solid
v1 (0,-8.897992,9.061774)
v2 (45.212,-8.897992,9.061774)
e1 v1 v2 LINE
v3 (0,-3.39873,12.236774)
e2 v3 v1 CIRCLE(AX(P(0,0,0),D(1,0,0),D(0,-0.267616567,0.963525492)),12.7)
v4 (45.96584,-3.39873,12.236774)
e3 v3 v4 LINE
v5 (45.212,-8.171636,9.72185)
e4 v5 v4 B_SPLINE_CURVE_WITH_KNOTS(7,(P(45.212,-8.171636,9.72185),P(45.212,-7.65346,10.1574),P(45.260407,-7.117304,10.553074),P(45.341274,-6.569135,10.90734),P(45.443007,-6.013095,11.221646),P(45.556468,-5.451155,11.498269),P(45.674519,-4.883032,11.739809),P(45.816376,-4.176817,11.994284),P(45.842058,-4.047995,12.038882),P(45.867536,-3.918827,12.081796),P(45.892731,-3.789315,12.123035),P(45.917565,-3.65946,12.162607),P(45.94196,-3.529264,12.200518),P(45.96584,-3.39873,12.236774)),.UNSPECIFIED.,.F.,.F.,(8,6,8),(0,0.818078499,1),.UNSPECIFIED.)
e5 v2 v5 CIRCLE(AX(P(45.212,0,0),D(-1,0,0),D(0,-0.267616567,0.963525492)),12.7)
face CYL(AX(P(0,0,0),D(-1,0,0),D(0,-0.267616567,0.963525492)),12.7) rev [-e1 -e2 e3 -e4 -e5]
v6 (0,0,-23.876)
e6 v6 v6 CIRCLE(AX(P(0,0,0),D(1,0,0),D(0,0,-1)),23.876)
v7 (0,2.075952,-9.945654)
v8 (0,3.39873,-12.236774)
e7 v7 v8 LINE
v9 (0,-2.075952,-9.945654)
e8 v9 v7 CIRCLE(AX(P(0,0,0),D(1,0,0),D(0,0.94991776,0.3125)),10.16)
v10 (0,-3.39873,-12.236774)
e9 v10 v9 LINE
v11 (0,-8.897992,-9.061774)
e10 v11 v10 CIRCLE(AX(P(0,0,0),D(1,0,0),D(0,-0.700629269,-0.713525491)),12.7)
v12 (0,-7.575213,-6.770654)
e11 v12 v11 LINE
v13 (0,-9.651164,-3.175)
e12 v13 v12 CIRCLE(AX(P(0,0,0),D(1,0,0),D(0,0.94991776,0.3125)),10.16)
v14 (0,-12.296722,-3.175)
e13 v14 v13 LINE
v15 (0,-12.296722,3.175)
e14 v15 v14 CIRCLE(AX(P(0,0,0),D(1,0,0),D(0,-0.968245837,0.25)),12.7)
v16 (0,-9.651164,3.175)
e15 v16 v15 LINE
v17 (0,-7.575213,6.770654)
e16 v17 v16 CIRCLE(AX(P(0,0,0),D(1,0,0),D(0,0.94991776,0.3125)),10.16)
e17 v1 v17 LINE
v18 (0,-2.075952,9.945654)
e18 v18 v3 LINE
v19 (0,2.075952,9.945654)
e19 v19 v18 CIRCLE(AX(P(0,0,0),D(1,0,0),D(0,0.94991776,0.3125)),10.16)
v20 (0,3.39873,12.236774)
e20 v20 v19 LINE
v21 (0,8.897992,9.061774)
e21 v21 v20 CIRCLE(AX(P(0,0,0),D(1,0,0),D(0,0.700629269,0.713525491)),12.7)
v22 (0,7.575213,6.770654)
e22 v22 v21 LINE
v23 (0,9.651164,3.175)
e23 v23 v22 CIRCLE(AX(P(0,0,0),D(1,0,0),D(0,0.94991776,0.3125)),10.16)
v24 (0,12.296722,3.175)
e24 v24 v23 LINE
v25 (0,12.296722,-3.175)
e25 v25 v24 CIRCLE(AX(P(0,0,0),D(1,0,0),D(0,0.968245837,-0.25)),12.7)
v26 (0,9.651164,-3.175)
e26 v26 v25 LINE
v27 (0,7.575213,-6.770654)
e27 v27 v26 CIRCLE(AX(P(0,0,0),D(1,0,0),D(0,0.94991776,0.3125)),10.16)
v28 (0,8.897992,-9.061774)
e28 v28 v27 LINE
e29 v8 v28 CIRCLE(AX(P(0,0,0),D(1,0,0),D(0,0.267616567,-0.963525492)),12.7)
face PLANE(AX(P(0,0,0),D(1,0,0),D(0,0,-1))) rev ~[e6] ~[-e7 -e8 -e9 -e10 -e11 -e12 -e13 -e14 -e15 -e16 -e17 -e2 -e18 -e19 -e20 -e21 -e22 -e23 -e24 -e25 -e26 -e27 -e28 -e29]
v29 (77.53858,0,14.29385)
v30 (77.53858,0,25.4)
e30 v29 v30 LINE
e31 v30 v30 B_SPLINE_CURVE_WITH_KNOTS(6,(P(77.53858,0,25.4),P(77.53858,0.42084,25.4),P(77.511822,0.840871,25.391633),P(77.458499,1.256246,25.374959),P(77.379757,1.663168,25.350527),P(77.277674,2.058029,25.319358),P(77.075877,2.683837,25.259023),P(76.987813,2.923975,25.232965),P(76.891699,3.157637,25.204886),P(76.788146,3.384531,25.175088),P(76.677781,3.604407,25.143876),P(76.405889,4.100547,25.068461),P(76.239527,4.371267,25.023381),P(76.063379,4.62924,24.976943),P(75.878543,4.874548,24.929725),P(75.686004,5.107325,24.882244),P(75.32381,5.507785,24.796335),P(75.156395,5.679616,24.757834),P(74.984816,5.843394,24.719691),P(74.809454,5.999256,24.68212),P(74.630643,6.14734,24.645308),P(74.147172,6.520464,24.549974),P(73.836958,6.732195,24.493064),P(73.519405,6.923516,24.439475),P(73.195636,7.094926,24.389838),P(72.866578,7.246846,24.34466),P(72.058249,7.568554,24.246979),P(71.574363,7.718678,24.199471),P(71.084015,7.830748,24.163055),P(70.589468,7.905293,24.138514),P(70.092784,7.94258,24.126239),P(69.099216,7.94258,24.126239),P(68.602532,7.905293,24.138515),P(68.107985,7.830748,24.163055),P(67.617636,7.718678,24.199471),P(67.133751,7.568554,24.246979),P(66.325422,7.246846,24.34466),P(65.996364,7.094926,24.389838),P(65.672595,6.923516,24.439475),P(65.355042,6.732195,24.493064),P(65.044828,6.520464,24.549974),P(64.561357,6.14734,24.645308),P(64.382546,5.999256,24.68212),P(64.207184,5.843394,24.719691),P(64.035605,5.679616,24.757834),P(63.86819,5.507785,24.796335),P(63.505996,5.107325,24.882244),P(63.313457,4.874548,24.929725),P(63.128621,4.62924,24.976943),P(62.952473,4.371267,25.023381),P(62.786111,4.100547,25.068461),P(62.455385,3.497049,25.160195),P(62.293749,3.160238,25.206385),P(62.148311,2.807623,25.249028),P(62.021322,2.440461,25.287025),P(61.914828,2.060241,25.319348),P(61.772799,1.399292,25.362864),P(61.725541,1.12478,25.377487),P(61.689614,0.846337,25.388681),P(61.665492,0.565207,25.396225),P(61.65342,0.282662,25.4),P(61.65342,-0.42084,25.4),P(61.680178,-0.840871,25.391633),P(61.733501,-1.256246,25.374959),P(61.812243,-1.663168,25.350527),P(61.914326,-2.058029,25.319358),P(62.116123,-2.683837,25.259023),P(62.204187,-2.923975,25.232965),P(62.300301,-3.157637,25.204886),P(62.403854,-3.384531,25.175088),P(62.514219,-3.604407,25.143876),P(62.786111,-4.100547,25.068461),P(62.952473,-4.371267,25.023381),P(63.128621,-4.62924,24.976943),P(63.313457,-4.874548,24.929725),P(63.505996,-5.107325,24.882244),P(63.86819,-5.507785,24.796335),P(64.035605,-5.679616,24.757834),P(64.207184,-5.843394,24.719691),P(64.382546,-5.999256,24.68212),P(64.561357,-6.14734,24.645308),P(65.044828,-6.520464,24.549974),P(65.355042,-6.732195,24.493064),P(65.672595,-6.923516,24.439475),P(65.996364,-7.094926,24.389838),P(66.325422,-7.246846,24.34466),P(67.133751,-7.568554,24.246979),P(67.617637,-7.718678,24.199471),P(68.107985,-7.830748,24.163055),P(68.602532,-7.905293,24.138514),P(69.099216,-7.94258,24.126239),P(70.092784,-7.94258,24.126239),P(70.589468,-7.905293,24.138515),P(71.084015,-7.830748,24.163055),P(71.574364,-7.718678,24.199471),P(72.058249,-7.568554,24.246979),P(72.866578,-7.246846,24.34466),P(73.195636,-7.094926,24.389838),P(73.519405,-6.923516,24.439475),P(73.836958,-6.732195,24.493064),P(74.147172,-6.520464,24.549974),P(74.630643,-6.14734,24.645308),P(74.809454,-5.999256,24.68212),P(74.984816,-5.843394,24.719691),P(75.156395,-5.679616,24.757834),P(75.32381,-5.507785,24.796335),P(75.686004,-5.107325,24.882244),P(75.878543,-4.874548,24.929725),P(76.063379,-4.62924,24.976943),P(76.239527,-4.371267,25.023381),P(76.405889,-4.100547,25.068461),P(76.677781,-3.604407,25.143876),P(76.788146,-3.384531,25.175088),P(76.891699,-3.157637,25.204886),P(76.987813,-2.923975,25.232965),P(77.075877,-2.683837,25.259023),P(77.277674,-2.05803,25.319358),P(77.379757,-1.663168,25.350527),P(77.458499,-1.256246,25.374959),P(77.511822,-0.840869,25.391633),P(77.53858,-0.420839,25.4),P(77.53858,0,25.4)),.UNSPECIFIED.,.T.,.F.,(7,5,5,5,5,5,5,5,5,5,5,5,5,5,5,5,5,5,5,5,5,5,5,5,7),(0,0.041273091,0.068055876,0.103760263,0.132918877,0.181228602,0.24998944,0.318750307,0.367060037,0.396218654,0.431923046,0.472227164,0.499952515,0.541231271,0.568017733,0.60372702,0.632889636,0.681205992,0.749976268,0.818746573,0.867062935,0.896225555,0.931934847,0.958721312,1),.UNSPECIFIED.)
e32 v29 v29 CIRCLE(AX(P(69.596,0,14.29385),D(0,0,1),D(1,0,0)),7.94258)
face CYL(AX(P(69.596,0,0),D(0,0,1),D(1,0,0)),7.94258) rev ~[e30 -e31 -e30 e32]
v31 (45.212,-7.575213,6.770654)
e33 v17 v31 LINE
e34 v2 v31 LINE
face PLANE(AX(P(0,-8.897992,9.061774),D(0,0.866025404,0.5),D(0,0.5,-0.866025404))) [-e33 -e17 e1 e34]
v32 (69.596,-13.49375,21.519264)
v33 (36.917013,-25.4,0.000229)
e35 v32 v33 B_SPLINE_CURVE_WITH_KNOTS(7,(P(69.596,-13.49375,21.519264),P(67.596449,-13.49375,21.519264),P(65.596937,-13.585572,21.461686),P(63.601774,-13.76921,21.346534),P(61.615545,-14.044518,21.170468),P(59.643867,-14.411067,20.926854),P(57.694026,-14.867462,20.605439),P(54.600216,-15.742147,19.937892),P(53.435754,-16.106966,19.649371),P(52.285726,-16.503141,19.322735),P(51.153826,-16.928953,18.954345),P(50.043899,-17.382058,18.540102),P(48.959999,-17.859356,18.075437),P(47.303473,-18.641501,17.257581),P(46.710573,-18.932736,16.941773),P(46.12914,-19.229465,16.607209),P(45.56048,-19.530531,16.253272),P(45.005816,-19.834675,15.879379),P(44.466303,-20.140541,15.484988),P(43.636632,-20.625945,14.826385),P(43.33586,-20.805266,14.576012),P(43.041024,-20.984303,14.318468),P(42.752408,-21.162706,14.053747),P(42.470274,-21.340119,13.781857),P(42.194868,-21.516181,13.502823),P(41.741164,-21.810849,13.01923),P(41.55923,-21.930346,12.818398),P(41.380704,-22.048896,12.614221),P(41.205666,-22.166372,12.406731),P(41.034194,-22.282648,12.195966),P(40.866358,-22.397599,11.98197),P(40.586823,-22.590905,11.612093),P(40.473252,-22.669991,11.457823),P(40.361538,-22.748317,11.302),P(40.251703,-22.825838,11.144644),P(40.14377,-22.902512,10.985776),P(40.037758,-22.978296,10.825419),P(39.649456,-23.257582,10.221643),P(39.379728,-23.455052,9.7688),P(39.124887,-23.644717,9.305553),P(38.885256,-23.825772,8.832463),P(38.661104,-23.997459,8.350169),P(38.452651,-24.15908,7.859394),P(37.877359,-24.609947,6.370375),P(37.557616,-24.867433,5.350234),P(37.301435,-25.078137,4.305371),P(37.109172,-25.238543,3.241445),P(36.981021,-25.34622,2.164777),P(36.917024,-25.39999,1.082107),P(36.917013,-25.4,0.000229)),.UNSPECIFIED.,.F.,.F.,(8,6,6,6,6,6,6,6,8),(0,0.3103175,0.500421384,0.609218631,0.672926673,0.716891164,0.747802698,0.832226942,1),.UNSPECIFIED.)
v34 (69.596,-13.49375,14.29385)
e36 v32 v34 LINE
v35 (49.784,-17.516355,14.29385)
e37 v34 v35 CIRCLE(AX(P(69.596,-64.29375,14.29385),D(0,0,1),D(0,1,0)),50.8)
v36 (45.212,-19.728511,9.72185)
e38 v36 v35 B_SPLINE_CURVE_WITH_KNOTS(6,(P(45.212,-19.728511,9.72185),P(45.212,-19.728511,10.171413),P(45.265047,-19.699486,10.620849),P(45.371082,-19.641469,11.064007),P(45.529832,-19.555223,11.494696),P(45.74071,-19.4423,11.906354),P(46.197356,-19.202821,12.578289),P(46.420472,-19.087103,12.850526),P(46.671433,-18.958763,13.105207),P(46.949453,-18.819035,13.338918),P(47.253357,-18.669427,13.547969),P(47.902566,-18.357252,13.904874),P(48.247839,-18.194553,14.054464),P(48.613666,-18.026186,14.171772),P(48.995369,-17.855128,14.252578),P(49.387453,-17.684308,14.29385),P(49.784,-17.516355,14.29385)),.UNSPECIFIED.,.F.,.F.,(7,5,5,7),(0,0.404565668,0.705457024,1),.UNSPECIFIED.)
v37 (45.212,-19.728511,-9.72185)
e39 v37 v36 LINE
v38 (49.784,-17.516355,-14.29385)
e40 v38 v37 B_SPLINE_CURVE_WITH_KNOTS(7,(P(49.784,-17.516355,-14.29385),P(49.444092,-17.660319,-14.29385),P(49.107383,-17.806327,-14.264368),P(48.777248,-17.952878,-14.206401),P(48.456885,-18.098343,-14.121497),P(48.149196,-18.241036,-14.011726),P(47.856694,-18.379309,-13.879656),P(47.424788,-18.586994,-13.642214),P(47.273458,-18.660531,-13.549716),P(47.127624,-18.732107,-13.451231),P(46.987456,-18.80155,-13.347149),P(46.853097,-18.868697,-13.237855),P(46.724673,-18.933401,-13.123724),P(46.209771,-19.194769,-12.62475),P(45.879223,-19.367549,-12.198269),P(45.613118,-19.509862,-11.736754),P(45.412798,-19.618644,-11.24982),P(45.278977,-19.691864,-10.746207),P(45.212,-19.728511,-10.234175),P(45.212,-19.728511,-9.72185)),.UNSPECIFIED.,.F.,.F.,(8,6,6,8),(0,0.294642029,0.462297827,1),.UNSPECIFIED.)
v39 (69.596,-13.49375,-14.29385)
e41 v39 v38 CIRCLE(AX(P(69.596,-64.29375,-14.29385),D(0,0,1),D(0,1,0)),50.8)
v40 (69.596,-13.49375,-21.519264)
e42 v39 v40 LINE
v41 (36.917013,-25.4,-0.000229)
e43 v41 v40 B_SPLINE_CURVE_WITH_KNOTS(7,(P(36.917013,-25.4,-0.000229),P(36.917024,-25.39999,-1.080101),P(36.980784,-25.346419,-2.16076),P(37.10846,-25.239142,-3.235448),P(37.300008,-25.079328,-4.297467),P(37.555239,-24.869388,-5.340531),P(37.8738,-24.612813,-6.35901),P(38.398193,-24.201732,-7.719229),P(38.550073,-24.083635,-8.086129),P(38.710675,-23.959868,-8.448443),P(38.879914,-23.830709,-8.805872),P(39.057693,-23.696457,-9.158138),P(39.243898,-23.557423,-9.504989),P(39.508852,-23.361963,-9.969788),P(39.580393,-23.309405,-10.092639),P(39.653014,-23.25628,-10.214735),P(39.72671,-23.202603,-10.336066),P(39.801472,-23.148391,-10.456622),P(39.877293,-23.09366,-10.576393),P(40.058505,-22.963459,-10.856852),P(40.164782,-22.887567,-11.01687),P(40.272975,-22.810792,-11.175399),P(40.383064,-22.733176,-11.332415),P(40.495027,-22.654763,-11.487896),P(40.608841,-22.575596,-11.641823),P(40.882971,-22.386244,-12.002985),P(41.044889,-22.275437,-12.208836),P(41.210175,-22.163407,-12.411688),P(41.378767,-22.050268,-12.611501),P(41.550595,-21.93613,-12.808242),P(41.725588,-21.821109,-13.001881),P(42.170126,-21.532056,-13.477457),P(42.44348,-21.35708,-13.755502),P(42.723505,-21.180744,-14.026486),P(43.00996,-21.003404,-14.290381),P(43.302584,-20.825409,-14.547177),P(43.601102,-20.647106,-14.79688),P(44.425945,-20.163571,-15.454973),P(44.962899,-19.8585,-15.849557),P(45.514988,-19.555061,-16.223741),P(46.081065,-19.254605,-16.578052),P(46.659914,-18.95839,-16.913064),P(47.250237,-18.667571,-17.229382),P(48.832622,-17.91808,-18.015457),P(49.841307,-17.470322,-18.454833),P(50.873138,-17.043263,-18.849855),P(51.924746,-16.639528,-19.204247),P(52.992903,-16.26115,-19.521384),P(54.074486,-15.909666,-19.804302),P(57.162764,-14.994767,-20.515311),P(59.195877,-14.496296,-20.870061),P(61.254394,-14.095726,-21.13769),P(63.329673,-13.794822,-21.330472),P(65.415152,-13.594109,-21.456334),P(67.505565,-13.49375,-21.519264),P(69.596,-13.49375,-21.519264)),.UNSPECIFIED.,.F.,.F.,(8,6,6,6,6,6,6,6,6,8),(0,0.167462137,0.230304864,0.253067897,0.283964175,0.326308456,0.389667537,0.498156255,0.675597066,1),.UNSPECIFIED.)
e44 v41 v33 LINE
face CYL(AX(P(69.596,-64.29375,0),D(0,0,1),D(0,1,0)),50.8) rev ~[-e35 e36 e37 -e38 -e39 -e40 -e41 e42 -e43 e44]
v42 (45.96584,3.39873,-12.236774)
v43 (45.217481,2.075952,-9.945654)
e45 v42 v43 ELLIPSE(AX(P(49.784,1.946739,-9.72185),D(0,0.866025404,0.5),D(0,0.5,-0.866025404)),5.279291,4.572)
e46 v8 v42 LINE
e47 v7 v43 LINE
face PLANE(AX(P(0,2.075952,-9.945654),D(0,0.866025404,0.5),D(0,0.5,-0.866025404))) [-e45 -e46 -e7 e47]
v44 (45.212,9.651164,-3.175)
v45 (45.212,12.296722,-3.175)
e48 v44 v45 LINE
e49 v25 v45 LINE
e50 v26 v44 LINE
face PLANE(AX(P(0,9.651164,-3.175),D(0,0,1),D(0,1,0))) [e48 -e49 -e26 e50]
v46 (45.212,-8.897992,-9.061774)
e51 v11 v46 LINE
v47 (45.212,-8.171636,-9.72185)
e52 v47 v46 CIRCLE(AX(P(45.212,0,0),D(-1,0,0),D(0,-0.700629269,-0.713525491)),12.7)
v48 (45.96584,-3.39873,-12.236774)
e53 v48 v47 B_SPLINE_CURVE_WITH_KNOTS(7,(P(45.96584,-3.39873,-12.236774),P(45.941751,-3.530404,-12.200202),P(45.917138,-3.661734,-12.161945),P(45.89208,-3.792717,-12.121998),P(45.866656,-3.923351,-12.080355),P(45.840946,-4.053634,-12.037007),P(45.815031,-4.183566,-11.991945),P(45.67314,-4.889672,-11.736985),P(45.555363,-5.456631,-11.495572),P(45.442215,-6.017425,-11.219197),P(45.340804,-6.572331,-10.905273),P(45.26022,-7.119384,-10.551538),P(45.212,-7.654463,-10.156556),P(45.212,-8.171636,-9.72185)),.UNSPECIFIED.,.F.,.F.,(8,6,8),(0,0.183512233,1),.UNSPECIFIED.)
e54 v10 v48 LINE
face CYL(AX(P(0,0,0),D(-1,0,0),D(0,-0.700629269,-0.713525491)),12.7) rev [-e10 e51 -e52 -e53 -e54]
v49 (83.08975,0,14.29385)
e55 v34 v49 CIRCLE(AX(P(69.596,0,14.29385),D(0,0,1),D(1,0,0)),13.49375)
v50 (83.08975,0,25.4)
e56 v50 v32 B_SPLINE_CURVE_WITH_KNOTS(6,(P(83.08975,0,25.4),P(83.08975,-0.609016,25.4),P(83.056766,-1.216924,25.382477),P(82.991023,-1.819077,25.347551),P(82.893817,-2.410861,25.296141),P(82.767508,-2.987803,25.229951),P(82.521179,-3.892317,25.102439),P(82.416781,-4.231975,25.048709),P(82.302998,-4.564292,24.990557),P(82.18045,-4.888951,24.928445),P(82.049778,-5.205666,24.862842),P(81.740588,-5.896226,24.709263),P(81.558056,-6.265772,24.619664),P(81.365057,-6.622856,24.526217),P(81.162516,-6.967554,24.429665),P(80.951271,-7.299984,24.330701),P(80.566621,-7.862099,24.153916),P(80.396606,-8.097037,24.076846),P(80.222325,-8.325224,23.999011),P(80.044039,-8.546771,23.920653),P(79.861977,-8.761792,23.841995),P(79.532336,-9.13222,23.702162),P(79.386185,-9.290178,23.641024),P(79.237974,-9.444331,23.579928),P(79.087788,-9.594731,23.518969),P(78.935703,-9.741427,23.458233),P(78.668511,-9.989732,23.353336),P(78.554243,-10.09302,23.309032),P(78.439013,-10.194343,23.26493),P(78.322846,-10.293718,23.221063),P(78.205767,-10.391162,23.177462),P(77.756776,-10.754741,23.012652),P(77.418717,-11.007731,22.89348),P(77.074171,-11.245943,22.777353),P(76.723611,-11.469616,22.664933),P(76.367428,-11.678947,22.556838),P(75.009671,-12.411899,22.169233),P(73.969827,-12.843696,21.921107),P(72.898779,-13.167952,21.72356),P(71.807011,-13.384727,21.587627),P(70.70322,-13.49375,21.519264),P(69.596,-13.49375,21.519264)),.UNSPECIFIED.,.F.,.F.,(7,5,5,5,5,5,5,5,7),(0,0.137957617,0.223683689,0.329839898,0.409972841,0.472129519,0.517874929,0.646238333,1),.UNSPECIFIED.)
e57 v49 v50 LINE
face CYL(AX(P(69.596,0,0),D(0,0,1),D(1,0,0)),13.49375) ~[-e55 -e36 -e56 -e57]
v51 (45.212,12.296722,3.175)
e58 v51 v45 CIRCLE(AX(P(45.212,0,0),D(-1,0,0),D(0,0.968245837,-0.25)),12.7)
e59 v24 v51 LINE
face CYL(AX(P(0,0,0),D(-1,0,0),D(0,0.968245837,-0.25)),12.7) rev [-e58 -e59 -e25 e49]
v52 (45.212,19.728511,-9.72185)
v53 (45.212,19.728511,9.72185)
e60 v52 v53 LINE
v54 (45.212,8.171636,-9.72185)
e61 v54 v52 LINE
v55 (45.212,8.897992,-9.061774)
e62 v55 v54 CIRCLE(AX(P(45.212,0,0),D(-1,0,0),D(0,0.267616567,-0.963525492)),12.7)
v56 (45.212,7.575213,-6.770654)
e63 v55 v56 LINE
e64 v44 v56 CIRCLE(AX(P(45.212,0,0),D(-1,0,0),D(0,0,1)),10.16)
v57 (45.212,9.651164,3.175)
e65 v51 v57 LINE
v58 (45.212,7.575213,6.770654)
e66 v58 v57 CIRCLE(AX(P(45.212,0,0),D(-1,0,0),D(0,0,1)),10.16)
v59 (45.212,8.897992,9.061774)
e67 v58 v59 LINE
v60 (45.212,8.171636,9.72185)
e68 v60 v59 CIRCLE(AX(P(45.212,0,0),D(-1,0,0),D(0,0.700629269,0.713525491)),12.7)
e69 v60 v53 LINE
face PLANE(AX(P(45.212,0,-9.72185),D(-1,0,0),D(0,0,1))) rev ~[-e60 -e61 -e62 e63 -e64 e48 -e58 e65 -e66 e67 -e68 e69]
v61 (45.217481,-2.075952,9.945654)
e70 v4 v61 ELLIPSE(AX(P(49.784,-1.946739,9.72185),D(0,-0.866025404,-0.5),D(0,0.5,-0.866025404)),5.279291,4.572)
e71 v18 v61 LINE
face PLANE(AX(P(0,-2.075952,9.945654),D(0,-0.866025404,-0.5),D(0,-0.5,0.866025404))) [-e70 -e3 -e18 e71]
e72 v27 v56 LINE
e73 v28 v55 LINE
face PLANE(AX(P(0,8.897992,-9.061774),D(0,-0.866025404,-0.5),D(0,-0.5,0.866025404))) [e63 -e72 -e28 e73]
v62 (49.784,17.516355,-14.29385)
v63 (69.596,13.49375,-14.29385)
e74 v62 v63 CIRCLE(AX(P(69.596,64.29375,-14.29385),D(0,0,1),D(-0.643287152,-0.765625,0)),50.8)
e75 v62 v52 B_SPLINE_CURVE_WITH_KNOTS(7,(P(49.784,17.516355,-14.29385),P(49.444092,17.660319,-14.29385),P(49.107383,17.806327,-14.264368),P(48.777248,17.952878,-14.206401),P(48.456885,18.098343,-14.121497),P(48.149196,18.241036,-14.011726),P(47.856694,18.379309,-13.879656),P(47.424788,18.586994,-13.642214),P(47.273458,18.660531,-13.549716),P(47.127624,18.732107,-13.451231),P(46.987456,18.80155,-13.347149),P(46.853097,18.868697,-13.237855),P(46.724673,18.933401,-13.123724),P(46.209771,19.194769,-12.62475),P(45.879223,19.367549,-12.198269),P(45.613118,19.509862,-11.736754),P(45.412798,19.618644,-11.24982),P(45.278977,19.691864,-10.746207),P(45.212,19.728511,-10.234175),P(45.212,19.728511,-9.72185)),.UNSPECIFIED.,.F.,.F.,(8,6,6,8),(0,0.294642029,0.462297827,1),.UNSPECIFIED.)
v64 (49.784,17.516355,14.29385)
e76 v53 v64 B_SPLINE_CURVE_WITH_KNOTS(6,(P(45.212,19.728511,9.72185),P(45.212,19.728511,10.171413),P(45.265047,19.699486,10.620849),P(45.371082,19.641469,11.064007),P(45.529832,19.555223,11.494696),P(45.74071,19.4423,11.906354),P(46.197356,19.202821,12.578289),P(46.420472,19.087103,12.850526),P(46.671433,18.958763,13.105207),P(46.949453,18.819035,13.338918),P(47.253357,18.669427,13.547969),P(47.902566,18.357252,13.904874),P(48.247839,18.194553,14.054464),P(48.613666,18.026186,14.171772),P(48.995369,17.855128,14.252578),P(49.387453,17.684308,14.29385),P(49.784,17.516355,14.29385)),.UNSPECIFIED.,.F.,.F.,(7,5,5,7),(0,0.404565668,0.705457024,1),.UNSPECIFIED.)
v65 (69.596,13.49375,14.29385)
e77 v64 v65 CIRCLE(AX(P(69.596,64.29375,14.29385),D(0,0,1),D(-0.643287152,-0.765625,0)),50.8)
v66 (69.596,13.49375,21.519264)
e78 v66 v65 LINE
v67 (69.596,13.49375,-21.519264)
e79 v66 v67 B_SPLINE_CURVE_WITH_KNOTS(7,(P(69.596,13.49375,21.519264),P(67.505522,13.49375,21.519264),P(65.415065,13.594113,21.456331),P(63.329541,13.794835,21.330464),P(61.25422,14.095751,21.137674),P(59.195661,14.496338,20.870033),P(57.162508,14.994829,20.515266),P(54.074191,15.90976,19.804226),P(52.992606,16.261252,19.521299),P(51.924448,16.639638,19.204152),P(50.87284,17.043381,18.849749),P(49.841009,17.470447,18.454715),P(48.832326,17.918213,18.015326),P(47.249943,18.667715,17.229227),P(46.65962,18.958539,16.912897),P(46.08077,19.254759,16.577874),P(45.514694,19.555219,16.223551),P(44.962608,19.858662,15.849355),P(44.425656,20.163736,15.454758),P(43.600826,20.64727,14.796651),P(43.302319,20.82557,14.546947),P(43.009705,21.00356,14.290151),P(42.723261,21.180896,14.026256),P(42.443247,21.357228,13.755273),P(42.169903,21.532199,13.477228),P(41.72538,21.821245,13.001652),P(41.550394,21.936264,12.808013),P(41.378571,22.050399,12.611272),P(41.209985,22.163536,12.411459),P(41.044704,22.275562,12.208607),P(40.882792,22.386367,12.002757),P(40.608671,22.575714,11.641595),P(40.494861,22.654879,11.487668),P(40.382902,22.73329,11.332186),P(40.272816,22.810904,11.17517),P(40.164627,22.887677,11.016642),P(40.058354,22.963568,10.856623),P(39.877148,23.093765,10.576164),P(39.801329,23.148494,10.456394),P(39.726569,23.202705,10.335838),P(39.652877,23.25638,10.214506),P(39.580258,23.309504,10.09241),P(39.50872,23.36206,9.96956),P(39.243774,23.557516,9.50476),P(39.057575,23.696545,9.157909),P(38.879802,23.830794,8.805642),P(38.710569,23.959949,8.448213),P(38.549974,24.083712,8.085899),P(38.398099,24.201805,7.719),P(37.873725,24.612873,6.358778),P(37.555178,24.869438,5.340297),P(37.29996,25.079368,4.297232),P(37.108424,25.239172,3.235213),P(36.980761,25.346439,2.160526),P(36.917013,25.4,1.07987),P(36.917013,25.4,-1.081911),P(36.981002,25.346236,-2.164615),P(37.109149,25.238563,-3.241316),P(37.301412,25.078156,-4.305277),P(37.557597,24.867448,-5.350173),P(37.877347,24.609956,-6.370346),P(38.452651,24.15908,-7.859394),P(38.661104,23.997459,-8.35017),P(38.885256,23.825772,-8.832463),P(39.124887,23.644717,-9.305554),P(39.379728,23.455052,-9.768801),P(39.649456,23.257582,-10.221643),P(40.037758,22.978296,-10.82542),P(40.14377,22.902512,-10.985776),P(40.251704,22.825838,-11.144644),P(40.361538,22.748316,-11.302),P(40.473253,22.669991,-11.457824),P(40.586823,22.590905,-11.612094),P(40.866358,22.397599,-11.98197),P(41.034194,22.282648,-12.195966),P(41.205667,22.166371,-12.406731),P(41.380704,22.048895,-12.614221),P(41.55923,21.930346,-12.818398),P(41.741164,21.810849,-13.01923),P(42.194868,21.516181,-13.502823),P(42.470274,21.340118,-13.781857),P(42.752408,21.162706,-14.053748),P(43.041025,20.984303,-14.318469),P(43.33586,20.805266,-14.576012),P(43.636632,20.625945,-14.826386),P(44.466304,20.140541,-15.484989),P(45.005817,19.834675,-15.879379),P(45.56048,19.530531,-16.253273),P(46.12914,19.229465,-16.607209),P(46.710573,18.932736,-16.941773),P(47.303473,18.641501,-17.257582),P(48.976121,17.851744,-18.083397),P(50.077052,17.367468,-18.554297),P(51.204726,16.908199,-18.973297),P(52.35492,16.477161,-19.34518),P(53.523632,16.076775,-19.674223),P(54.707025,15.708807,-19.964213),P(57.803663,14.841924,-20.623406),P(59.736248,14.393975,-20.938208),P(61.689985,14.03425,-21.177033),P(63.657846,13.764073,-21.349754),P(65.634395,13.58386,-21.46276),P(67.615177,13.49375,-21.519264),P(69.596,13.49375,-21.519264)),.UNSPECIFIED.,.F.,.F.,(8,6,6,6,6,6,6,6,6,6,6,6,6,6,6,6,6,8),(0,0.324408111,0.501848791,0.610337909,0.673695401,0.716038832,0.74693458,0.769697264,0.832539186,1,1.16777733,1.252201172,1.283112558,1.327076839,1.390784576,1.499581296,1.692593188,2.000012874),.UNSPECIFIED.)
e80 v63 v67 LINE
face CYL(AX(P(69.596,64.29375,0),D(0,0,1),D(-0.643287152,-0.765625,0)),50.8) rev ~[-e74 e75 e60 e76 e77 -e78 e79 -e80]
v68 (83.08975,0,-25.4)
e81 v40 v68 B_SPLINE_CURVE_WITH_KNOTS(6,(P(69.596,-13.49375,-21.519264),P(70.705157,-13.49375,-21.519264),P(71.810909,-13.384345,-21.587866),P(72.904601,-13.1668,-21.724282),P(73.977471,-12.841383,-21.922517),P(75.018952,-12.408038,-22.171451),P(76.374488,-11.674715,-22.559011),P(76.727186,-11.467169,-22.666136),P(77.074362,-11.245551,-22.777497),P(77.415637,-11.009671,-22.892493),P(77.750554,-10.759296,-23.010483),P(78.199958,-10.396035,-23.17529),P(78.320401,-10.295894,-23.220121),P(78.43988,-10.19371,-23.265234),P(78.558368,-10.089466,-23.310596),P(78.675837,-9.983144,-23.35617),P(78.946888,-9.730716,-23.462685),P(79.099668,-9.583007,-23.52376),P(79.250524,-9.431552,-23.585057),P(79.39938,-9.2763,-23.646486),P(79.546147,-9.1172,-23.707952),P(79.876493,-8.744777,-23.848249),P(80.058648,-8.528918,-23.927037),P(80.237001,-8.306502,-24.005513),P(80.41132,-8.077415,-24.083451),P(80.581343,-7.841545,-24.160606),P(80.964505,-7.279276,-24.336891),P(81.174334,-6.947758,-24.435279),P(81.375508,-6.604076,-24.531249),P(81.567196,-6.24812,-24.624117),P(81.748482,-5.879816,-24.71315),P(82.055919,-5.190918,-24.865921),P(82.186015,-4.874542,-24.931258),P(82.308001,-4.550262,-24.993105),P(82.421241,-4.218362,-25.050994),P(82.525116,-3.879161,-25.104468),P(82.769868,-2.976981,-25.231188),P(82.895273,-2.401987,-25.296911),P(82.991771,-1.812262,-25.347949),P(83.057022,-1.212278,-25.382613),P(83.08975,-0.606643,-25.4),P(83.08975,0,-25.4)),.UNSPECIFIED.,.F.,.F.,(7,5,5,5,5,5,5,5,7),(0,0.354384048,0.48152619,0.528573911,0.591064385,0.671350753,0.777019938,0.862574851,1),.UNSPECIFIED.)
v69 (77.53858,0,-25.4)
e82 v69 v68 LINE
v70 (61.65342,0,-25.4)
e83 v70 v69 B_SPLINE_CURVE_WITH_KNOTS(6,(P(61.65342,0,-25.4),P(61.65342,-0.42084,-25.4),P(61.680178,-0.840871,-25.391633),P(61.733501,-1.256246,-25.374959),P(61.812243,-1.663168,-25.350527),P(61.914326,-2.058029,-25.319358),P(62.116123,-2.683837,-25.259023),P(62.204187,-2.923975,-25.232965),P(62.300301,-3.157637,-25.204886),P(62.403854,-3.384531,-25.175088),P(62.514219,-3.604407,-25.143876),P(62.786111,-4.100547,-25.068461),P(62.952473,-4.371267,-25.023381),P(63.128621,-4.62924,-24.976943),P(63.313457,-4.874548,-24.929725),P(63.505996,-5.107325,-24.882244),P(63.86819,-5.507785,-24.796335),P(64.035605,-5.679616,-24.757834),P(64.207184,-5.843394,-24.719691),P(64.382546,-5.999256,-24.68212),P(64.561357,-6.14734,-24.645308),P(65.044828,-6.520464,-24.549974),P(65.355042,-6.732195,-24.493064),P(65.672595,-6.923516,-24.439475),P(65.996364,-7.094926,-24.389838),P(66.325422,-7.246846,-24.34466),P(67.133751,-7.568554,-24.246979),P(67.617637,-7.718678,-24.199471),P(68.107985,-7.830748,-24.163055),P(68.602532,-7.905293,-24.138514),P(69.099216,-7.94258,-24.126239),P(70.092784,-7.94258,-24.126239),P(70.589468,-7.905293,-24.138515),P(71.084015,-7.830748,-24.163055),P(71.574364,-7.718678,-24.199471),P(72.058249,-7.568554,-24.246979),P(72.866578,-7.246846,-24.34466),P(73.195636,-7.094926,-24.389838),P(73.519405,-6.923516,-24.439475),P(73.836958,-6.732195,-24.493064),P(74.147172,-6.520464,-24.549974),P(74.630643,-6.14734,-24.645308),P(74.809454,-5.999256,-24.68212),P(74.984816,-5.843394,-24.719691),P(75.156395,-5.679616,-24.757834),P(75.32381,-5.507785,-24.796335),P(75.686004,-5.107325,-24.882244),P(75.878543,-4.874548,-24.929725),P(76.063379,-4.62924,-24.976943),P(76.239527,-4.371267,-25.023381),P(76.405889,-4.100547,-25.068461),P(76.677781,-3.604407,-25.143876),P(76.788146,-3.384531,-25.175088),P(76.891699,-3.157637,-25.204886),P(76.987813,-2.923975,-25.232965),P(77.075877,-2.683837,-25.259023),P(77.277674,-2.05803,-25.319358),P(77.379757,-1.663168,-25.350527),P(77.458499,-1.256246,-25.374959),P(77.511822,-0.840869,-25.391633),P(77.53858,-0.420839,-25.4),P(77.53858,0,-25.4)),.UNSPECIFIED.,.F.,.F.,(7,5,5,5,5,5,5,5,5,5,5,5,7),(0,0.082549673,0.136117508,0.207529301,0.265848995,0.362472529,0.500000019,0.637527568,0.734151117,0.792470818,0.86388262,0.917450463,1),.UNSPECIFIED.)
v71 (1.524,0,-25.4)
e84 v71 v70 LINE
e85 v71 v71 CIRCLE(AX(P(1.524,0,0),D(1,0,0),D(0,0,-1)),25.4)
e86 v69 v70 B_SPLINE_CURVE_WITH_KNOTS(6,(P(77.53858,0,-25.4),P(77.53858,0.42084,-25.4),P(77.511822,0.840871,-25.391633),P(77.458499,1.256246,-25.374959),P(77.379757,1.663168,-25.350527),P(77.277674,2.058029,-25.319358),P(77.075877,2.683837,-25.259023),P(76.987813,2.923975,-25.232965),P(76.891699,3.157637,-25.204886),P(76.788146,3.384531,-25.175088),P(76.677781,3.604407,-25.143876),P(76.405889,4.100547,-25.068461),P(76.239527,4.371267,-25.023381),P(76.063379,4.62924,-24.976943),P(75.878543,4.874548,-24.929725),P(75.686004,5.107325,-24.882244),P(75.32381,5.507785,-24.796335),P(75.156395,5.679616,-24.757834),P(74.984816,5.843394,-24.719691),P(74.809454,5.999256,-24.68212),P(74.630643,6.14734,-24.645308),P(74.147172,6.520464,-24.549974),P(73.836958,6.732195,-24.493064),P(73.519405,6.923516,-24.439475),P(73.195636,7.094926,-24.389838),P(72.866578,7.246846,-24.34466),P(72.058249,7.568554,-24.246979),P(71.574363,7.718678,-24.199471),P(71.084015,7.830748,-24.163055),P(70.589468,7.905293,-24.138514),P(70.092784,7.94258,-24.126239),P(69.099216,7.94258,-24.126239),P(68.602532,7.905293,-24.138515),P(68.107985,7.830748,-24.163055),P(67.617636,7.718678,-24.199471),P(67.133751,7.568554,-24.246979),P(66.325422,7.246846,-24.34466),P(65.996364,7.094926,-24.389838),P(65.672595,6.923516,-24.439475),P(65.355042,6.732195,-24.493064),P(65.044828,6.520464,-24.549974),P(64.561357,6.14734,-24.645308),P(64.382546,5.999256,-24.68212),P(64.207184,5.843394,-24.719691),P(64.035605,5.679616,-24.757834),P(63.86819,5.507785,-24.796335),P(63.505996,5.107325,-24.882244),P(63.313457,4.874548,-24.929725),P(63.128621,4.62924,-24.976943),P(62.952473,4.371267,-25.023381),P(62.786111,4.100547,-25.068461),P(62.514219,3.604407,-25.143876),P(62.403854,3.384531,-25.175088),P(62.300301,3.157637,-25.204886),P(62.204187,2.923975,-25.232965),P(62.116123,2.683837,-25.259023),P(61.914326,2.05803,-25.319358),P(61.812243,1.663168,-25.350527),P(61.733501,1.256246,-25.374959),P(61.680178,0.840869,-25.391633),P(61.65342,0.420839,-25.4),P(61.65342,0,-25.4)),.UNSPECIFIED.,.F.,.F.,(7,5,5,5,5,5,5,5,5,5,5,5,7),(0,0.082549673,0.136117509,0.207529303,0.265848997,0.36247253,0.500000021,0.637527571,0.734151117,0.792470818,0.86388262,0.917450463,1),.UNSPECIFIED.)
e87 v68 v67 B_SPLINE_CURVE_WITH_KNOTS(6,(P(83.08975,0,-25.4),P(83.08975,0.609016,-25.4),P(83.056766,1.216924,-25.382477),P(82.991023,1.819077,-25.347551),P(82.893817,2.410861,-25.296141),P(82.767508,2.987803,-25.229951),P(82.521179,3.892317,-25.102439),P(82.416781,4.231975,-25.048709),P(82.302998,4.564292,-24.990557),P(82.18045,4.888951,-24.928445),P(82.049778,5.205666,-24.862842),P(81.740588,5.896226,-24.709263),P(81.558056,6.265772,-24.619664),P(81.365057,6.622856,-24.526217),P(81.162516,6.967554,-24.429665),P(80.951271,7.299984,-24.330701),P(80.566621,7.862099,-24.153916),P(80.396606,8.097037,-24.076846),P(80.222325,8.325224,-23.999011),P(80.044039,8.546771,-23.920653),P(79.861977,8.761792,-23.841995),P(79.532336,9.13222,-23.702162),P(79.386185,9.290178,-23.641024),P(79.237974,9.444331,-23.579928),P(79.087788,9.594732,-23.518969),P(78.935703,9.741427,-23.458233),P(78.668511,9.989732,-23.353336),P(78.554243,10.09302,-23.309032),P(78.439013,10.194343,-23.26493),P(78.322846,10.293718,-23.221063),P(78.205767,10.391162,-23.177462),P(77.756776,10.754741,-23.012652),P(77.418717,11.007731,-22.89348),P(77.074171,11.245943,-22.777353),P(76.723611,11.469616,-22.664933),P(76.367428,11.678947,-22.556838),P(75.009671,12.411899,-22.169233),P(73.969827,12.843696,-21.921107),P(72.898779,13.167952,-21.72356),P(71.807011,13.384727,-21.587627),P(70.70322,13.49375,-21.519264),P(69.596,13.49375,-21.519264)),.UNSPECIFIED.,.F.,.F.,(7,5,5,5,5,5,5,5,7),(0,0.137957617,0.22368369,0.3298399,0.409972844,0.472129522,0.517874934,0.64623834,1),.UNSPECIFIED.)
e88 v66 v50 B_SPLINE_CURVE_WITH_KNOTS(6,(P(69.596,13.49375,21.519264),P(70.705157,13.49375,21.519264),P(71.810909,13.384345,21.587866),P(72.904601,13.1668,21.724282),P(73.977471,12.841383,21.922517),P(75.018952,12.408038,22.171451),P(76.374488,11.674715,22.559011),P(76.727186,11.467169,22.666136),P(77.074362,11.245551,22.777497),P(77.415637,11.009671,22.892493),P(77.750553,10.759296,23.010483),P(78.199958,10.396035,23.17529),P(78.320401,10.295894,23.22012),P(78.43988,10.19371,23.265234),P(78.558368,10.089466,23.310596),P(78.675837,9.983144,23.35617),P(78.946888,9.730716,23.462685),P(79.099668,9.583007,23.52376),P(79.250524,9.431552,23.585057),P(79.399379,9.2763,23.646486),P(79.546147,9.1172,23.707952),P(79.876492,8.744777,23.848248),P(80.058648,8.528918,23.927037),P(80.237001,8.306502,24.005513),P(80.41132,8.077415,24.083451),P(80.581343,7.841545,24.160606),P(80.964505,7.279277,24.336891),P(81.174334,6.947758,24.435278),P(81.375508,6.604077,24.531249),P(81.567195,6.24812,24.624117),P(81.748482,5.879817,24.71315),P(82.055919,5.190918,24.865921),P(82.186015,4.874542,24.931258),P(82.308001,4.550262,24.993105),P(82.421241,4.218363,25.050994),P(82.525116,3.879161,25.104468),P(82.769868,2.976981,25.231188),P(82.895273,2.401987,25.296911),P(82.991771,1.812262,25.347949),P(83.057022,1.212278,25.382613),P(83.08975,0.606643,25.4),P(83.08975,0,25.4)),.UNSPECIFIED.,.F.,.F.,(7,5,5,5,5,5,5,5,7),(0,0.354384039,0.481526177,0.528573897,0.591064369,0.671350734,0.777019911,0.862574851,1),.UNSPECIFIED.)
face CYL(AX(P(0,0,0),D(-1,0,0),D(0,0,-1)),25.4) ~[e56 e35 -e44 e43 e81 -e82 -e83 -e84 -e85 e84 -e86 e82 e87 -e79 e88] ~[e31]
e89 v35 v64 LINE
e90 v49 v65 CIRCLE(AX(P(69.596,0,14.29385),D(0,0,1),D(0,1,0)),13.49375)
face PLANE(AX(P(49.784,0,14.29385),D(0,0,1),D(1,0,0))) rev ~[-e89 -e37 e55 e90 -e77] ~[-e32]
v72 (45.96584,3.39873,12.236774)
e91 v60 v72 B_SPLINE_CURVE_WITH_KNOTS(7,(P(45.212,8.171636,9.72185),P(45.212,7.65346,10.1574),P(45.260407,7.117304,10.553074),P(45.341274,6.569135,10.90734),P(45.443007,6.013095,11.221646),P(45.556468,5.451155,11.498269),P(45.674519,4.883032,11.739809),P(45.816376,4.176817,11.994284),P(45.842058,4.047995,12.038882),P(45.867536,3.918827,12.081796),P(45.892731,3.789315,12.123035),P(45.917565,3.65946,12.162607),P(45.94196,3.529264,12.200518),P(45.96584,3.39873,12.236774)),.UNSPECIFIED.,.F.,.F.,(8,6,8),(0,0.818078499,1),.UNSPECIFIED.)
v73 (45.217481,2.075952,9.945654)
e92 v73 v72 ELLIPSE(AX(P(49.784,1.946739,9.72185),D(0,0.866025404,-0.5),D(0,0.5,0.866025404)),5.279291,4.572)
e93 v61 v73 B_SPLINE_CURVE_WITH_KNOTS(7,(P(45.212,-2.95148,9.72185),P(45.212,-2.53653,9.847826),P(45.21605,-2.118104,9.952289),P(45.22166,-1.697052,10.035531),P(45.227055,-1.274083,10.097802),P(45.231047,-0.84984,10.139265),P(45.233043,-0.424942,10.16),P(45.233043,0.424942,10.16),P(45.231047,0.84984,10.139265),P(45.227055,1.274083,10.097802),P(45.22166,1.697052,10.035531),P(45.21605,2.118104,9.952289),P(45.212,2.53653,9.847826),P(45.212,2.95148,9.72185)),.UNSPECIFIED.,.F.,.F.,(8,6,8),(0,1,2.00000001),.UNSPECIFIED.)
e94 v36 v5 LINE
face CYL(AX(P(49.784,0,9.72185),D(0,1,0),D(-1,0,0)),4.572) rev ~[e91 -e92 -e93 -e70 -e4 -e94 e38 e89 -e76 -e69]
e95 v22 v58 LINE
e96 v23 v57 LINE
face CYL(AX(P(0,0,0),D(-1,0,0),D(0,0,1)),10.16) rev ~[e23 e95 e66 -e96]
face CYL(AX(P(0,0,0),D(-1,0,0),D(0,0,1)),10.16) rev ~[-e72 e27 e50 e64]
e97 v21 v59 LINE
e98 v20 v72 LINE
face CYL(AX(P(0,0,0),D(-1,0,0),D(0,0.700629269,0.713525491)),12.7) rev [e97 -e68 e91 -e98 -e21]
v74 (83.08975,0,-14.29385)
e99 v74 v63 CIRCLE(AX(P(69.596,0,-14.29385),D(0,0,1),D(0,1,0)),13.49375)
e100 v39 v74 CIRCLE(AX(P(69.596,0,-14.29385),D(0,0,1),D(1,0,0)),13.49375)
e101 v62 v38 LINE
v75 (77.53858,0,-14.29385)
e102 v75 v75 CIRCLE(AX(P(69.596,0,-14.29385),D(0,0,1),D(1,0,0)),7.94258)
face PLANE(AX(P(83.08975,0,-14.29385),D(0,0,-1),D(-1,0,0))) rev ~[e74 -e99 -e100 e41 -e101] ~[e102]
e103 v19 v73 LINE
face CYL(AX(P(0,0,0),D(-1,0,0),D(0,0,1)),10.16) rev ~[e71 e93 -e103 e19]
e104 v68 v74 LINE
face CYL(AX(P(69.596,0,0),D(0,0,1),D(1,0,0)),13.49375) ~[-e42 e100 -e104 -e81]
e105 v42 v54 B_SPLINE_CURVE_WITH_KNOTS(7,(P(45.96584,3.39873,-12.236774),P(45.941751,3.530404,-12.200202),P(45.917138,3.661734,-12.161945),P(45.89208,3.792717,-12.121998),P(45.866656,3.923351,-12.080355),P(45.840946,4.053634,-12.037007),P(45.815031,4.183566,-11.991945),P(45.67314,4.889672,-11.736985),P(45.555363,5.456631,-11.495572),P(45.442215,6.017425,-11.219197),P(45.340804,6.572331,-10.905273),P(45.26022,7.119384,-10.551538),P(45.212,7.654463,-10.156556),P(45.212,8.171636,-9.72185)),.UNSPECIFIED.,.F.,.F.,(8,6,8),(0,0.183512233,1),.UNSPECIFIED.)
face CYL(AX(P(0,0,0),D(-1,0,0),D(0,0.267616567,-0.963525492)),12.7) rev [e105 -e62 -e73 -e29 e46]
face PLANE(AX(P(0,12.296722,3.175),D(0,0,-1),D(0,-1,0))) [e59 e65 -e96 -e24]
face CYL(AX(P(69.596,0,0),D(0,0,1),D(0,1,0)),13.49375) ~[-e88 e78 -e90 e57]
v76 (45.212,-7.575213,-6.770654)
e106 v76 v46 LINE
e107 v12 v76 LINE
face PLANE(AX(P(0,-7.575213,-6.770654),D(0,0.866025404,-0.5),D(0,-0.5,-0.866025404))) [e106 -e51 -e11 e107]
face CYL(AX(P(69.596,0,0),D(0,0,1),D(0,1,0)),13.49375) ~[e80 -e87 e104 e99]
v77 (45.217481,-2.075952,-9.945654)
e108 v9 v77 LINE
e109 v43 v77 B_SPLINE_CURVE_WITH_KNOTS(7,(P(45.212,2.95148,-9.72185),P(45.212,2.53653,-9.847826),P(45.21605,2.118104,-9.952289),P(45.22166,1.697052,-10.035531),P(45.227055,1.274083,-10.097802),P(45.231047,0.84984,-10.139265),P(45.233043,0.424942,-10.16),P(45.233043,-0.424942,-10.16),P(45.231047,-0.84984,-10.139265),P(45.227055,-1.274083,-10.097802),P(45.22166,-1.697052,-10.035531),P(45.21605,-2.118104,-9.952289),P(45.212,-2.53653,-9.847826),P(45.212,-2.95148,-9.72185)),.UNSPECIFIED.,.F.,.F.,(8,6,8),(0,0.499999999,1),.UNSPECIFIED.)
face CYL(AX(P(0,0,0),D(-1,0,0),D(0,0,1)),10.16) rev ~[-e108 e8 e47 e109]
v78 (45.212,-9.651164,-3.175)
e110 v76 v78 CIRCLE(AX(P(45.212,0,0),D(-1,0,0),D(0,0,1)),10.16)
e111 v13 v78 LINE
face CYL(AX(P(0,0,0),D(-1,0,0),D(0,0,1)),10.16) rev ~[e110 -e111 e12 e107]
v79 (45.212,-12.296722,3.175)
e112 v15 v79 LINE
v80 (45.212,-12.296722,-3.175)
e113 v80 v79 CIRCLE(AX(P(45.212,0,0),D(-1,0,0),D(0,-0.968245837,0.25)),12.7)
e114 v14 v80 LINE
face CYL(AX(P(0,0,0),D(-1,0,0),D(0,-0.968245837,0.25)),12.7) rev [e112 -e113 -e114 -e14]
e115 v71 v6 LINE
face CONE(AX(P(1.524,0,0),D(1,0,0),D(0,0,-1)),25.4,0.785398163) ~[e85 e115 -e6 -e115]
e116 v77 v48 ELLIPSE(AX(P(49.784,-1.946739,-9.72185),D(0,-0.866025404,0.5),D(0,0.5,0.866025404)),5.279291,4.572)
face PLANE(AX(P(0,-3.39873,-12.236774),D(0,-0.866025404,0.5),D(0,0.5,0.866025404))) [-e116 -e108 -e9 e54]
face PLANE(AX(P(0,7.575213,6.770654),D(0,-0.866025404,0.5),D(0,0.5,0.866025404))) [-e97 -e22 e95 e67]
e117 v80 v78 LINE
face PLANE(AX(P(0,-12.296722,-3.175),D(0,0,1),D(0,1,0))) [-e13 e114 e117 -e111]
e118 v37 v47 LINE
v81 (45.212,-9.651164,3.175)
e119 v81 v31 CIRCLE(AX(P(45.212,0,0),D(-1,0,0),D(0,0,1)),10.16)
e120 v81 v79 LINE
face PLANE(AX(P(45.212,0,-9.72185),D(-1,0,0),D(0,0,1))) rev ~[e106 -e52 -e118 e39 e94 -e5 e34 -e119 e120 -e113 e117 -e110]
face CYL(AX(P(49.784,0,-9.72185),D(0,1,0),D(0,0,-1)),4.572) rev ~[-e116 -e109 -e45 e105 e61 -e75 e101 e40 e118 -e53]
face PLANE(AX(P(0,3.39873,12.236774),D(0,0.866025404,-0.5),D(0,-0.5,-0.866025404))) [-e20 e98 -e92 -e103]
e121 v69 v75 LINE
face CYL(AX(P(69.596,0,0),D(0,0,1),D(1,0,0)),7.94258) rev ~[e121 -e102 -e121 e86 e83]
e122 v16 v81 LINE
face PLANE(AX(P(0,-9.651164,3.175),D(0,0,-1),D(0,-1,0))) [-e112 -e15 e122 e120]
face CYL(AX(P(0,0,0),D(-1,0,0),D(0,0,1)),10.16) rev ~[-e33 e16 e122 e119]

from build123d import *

# Parameters (mm, degrees)
SKETCH1_R           = 25.4
BOSS_EXTRUDE1_DEPTH = 83.08975
CUT_EXTRUDE1_DEPTH  = 43.688
SKETCH5_R           = 7.94258
CUT_EXTRUDE2_DEPTH  = 43.688
SKETCH6_W           = 13.49375
SKETCH6_H           = 14.29385
CUT_EXTRUDE3_DEPTH  = 43.688
CHAMFER1_SIZE       = 1.524
SKETCH8_R           = 10.16
CUT_EXTRUDE4_DEPTH  = 91.521967399
CUT_EXTRUDE5_DEPTH  = 91.521967399
CIRPATTERN1_COUNT   = 6


with BuildPart() as part:
    # Sketch1 → Boss-Extrude1 (new body)
    with BuildSketch(Plane(origin=(0, 0, 0), x_dir=(0, 0, -1), z_dir=(1, 0, 0))):
        Circle(SKETCH1_R)
    extrude(amount=BOSS_EXTRUDE1_DEPTH)

    # Sketch4 → Cut-Extrude1 (cut, symmetric)
    with BuildSketch(Plane.XY):
        with BuildLine():
            ThreePointArc((69.596, 13.49375), (79.137522129, 9.541522129), (83.08975, 0))
            Line((83.08975, 0), (83.08975, 25.4))
            Line((83.08975, 25.4), (36.9170127, 25.4))
            ThreePointArc((36.9170127, 25.4), (52.205808799, 16.563033999), (69.596, 13.49375))
        make_face()
        with BuildLine():
            Line((36.9170127, -25.4), (83.08975, -25.4))
            Line((83.08975, -25.4), (83.08975, 0))
            ThreePointArc((83.08975, 0), (79.137522129, -9.541522129), (69.596, -13.49375))
            ThreePointArc((69.596, -13.49375), (52.205808799, -16.563033999), (36.9170127, -25.4))
        make_face()
    extrude(amount=CUT_EXTRUDE1_DEPTH, both=True, mode=Mode.SUBTRACT)

    # Sketch5 → Cut-Extrude2 (cut, symmetric)
    with BuildSketch(Plane.XY):
        with Locations((69.596, 0)):
            Circle(SKETCH5_R)
    extrude(amount=CUT_EXTRUDE2_DEPTH, both=True, mode=Mode.SUBTRACT)

    # Sketch6 → Cut-Extrude3 (cut, symmetric)
    with BuildSketch(Plane(origin=(0, 0, 0), x_dir=(1, 0, 0), z_dir=(0, 1, 0))):
        with BuildLine():
            Line((69.596, 0), (69.596, 14.29385))
            Line((69.596, 14.29385), (49.784, 14.29385))
            ThreePointArc((49.784, 14.29385), (46.551107796, 12.954742204), (45.212, 9.72185))
            Line((45.212, 9.72185), (45.212, 0))
            Line((45.212, 0), (69.596, 0))
        make_face()
        with BuildLine():
            Line((69.596, -14.29385), (69.596, 0))
            Line((69.596, 0), (45.212, 0))
            Line((45.212, 0), (45.212, -9.72185))
            ThreePointArc((45.212, -9.72185), (46.551107796, -12.954742204), (49.784, -14.29385))
            Line((49.784, -14.29385), (69.596, -14.29385))
        make_face()
        with Locations((76.342875, -7.146925)):
            Rectangle(SKETCH6_W, SKETCH6_H)
        with Locations((76.342875, 7.146925)):
            Rectangle(SKETCH6_W, SKETCH6_H)
    extrude(amount=CUT_EXTRUDE3_DEPTH, both=True, mode=Mode.SUBTRACT)

    # Chamfer1
    chamfer1_edges = [part.edges().sort_by_distance(p)[0] for p in [
        (0, 0, 25.4),
    ]]
    chamfer(chamfer1_edges, length=CHAMFER1_SIZE)

    # Sketch8 → Cut-Extrude4 (cut, through all)
    with BuildSketch(Plane.ZY):
        Circle(SKETCH8_R)
    extrude(amount=-CUT_EXTRUDE4_DEPTH, mode=Mode.SUBTRACT)

    # Sketch7 → Cut-Extrude5 (cut, through all)
    with BuildSketch(Plane.ZY):
        with BuildLine():
            Line((-3.175, 9.651164438), (-3.175, 12.296722124))
            ThreePointArc((-3.175, 12.296722124), (0, 12.7), (3.175, 12.296722124))
            Line((3.175, 12.296722124), (3.175, 9.651164438))
            ThreePointArc((3.175, 9.651164438), (0, 10.16), (-3.175, 9.651164438))
        make_face()
    cut_extrude5 = extrude(amount=-CUT_EXTRUDE5_DEPTH, mode=Mode.SUBTRACT)

    # CirPattern1: Cut-Extrude5 ×6 about axis
    cirpattern1_axis = Axis((0, 0, 0), (1, 0, 0))
    for i in range(1, CIRPATTERN1_COUNT):
        add(cut_extrude5.rotate(cirpattern1_axis, i * 360 / CIRPATTERN1_COUNT), mode=Mode.SUBTRACT)


solid = part.part
